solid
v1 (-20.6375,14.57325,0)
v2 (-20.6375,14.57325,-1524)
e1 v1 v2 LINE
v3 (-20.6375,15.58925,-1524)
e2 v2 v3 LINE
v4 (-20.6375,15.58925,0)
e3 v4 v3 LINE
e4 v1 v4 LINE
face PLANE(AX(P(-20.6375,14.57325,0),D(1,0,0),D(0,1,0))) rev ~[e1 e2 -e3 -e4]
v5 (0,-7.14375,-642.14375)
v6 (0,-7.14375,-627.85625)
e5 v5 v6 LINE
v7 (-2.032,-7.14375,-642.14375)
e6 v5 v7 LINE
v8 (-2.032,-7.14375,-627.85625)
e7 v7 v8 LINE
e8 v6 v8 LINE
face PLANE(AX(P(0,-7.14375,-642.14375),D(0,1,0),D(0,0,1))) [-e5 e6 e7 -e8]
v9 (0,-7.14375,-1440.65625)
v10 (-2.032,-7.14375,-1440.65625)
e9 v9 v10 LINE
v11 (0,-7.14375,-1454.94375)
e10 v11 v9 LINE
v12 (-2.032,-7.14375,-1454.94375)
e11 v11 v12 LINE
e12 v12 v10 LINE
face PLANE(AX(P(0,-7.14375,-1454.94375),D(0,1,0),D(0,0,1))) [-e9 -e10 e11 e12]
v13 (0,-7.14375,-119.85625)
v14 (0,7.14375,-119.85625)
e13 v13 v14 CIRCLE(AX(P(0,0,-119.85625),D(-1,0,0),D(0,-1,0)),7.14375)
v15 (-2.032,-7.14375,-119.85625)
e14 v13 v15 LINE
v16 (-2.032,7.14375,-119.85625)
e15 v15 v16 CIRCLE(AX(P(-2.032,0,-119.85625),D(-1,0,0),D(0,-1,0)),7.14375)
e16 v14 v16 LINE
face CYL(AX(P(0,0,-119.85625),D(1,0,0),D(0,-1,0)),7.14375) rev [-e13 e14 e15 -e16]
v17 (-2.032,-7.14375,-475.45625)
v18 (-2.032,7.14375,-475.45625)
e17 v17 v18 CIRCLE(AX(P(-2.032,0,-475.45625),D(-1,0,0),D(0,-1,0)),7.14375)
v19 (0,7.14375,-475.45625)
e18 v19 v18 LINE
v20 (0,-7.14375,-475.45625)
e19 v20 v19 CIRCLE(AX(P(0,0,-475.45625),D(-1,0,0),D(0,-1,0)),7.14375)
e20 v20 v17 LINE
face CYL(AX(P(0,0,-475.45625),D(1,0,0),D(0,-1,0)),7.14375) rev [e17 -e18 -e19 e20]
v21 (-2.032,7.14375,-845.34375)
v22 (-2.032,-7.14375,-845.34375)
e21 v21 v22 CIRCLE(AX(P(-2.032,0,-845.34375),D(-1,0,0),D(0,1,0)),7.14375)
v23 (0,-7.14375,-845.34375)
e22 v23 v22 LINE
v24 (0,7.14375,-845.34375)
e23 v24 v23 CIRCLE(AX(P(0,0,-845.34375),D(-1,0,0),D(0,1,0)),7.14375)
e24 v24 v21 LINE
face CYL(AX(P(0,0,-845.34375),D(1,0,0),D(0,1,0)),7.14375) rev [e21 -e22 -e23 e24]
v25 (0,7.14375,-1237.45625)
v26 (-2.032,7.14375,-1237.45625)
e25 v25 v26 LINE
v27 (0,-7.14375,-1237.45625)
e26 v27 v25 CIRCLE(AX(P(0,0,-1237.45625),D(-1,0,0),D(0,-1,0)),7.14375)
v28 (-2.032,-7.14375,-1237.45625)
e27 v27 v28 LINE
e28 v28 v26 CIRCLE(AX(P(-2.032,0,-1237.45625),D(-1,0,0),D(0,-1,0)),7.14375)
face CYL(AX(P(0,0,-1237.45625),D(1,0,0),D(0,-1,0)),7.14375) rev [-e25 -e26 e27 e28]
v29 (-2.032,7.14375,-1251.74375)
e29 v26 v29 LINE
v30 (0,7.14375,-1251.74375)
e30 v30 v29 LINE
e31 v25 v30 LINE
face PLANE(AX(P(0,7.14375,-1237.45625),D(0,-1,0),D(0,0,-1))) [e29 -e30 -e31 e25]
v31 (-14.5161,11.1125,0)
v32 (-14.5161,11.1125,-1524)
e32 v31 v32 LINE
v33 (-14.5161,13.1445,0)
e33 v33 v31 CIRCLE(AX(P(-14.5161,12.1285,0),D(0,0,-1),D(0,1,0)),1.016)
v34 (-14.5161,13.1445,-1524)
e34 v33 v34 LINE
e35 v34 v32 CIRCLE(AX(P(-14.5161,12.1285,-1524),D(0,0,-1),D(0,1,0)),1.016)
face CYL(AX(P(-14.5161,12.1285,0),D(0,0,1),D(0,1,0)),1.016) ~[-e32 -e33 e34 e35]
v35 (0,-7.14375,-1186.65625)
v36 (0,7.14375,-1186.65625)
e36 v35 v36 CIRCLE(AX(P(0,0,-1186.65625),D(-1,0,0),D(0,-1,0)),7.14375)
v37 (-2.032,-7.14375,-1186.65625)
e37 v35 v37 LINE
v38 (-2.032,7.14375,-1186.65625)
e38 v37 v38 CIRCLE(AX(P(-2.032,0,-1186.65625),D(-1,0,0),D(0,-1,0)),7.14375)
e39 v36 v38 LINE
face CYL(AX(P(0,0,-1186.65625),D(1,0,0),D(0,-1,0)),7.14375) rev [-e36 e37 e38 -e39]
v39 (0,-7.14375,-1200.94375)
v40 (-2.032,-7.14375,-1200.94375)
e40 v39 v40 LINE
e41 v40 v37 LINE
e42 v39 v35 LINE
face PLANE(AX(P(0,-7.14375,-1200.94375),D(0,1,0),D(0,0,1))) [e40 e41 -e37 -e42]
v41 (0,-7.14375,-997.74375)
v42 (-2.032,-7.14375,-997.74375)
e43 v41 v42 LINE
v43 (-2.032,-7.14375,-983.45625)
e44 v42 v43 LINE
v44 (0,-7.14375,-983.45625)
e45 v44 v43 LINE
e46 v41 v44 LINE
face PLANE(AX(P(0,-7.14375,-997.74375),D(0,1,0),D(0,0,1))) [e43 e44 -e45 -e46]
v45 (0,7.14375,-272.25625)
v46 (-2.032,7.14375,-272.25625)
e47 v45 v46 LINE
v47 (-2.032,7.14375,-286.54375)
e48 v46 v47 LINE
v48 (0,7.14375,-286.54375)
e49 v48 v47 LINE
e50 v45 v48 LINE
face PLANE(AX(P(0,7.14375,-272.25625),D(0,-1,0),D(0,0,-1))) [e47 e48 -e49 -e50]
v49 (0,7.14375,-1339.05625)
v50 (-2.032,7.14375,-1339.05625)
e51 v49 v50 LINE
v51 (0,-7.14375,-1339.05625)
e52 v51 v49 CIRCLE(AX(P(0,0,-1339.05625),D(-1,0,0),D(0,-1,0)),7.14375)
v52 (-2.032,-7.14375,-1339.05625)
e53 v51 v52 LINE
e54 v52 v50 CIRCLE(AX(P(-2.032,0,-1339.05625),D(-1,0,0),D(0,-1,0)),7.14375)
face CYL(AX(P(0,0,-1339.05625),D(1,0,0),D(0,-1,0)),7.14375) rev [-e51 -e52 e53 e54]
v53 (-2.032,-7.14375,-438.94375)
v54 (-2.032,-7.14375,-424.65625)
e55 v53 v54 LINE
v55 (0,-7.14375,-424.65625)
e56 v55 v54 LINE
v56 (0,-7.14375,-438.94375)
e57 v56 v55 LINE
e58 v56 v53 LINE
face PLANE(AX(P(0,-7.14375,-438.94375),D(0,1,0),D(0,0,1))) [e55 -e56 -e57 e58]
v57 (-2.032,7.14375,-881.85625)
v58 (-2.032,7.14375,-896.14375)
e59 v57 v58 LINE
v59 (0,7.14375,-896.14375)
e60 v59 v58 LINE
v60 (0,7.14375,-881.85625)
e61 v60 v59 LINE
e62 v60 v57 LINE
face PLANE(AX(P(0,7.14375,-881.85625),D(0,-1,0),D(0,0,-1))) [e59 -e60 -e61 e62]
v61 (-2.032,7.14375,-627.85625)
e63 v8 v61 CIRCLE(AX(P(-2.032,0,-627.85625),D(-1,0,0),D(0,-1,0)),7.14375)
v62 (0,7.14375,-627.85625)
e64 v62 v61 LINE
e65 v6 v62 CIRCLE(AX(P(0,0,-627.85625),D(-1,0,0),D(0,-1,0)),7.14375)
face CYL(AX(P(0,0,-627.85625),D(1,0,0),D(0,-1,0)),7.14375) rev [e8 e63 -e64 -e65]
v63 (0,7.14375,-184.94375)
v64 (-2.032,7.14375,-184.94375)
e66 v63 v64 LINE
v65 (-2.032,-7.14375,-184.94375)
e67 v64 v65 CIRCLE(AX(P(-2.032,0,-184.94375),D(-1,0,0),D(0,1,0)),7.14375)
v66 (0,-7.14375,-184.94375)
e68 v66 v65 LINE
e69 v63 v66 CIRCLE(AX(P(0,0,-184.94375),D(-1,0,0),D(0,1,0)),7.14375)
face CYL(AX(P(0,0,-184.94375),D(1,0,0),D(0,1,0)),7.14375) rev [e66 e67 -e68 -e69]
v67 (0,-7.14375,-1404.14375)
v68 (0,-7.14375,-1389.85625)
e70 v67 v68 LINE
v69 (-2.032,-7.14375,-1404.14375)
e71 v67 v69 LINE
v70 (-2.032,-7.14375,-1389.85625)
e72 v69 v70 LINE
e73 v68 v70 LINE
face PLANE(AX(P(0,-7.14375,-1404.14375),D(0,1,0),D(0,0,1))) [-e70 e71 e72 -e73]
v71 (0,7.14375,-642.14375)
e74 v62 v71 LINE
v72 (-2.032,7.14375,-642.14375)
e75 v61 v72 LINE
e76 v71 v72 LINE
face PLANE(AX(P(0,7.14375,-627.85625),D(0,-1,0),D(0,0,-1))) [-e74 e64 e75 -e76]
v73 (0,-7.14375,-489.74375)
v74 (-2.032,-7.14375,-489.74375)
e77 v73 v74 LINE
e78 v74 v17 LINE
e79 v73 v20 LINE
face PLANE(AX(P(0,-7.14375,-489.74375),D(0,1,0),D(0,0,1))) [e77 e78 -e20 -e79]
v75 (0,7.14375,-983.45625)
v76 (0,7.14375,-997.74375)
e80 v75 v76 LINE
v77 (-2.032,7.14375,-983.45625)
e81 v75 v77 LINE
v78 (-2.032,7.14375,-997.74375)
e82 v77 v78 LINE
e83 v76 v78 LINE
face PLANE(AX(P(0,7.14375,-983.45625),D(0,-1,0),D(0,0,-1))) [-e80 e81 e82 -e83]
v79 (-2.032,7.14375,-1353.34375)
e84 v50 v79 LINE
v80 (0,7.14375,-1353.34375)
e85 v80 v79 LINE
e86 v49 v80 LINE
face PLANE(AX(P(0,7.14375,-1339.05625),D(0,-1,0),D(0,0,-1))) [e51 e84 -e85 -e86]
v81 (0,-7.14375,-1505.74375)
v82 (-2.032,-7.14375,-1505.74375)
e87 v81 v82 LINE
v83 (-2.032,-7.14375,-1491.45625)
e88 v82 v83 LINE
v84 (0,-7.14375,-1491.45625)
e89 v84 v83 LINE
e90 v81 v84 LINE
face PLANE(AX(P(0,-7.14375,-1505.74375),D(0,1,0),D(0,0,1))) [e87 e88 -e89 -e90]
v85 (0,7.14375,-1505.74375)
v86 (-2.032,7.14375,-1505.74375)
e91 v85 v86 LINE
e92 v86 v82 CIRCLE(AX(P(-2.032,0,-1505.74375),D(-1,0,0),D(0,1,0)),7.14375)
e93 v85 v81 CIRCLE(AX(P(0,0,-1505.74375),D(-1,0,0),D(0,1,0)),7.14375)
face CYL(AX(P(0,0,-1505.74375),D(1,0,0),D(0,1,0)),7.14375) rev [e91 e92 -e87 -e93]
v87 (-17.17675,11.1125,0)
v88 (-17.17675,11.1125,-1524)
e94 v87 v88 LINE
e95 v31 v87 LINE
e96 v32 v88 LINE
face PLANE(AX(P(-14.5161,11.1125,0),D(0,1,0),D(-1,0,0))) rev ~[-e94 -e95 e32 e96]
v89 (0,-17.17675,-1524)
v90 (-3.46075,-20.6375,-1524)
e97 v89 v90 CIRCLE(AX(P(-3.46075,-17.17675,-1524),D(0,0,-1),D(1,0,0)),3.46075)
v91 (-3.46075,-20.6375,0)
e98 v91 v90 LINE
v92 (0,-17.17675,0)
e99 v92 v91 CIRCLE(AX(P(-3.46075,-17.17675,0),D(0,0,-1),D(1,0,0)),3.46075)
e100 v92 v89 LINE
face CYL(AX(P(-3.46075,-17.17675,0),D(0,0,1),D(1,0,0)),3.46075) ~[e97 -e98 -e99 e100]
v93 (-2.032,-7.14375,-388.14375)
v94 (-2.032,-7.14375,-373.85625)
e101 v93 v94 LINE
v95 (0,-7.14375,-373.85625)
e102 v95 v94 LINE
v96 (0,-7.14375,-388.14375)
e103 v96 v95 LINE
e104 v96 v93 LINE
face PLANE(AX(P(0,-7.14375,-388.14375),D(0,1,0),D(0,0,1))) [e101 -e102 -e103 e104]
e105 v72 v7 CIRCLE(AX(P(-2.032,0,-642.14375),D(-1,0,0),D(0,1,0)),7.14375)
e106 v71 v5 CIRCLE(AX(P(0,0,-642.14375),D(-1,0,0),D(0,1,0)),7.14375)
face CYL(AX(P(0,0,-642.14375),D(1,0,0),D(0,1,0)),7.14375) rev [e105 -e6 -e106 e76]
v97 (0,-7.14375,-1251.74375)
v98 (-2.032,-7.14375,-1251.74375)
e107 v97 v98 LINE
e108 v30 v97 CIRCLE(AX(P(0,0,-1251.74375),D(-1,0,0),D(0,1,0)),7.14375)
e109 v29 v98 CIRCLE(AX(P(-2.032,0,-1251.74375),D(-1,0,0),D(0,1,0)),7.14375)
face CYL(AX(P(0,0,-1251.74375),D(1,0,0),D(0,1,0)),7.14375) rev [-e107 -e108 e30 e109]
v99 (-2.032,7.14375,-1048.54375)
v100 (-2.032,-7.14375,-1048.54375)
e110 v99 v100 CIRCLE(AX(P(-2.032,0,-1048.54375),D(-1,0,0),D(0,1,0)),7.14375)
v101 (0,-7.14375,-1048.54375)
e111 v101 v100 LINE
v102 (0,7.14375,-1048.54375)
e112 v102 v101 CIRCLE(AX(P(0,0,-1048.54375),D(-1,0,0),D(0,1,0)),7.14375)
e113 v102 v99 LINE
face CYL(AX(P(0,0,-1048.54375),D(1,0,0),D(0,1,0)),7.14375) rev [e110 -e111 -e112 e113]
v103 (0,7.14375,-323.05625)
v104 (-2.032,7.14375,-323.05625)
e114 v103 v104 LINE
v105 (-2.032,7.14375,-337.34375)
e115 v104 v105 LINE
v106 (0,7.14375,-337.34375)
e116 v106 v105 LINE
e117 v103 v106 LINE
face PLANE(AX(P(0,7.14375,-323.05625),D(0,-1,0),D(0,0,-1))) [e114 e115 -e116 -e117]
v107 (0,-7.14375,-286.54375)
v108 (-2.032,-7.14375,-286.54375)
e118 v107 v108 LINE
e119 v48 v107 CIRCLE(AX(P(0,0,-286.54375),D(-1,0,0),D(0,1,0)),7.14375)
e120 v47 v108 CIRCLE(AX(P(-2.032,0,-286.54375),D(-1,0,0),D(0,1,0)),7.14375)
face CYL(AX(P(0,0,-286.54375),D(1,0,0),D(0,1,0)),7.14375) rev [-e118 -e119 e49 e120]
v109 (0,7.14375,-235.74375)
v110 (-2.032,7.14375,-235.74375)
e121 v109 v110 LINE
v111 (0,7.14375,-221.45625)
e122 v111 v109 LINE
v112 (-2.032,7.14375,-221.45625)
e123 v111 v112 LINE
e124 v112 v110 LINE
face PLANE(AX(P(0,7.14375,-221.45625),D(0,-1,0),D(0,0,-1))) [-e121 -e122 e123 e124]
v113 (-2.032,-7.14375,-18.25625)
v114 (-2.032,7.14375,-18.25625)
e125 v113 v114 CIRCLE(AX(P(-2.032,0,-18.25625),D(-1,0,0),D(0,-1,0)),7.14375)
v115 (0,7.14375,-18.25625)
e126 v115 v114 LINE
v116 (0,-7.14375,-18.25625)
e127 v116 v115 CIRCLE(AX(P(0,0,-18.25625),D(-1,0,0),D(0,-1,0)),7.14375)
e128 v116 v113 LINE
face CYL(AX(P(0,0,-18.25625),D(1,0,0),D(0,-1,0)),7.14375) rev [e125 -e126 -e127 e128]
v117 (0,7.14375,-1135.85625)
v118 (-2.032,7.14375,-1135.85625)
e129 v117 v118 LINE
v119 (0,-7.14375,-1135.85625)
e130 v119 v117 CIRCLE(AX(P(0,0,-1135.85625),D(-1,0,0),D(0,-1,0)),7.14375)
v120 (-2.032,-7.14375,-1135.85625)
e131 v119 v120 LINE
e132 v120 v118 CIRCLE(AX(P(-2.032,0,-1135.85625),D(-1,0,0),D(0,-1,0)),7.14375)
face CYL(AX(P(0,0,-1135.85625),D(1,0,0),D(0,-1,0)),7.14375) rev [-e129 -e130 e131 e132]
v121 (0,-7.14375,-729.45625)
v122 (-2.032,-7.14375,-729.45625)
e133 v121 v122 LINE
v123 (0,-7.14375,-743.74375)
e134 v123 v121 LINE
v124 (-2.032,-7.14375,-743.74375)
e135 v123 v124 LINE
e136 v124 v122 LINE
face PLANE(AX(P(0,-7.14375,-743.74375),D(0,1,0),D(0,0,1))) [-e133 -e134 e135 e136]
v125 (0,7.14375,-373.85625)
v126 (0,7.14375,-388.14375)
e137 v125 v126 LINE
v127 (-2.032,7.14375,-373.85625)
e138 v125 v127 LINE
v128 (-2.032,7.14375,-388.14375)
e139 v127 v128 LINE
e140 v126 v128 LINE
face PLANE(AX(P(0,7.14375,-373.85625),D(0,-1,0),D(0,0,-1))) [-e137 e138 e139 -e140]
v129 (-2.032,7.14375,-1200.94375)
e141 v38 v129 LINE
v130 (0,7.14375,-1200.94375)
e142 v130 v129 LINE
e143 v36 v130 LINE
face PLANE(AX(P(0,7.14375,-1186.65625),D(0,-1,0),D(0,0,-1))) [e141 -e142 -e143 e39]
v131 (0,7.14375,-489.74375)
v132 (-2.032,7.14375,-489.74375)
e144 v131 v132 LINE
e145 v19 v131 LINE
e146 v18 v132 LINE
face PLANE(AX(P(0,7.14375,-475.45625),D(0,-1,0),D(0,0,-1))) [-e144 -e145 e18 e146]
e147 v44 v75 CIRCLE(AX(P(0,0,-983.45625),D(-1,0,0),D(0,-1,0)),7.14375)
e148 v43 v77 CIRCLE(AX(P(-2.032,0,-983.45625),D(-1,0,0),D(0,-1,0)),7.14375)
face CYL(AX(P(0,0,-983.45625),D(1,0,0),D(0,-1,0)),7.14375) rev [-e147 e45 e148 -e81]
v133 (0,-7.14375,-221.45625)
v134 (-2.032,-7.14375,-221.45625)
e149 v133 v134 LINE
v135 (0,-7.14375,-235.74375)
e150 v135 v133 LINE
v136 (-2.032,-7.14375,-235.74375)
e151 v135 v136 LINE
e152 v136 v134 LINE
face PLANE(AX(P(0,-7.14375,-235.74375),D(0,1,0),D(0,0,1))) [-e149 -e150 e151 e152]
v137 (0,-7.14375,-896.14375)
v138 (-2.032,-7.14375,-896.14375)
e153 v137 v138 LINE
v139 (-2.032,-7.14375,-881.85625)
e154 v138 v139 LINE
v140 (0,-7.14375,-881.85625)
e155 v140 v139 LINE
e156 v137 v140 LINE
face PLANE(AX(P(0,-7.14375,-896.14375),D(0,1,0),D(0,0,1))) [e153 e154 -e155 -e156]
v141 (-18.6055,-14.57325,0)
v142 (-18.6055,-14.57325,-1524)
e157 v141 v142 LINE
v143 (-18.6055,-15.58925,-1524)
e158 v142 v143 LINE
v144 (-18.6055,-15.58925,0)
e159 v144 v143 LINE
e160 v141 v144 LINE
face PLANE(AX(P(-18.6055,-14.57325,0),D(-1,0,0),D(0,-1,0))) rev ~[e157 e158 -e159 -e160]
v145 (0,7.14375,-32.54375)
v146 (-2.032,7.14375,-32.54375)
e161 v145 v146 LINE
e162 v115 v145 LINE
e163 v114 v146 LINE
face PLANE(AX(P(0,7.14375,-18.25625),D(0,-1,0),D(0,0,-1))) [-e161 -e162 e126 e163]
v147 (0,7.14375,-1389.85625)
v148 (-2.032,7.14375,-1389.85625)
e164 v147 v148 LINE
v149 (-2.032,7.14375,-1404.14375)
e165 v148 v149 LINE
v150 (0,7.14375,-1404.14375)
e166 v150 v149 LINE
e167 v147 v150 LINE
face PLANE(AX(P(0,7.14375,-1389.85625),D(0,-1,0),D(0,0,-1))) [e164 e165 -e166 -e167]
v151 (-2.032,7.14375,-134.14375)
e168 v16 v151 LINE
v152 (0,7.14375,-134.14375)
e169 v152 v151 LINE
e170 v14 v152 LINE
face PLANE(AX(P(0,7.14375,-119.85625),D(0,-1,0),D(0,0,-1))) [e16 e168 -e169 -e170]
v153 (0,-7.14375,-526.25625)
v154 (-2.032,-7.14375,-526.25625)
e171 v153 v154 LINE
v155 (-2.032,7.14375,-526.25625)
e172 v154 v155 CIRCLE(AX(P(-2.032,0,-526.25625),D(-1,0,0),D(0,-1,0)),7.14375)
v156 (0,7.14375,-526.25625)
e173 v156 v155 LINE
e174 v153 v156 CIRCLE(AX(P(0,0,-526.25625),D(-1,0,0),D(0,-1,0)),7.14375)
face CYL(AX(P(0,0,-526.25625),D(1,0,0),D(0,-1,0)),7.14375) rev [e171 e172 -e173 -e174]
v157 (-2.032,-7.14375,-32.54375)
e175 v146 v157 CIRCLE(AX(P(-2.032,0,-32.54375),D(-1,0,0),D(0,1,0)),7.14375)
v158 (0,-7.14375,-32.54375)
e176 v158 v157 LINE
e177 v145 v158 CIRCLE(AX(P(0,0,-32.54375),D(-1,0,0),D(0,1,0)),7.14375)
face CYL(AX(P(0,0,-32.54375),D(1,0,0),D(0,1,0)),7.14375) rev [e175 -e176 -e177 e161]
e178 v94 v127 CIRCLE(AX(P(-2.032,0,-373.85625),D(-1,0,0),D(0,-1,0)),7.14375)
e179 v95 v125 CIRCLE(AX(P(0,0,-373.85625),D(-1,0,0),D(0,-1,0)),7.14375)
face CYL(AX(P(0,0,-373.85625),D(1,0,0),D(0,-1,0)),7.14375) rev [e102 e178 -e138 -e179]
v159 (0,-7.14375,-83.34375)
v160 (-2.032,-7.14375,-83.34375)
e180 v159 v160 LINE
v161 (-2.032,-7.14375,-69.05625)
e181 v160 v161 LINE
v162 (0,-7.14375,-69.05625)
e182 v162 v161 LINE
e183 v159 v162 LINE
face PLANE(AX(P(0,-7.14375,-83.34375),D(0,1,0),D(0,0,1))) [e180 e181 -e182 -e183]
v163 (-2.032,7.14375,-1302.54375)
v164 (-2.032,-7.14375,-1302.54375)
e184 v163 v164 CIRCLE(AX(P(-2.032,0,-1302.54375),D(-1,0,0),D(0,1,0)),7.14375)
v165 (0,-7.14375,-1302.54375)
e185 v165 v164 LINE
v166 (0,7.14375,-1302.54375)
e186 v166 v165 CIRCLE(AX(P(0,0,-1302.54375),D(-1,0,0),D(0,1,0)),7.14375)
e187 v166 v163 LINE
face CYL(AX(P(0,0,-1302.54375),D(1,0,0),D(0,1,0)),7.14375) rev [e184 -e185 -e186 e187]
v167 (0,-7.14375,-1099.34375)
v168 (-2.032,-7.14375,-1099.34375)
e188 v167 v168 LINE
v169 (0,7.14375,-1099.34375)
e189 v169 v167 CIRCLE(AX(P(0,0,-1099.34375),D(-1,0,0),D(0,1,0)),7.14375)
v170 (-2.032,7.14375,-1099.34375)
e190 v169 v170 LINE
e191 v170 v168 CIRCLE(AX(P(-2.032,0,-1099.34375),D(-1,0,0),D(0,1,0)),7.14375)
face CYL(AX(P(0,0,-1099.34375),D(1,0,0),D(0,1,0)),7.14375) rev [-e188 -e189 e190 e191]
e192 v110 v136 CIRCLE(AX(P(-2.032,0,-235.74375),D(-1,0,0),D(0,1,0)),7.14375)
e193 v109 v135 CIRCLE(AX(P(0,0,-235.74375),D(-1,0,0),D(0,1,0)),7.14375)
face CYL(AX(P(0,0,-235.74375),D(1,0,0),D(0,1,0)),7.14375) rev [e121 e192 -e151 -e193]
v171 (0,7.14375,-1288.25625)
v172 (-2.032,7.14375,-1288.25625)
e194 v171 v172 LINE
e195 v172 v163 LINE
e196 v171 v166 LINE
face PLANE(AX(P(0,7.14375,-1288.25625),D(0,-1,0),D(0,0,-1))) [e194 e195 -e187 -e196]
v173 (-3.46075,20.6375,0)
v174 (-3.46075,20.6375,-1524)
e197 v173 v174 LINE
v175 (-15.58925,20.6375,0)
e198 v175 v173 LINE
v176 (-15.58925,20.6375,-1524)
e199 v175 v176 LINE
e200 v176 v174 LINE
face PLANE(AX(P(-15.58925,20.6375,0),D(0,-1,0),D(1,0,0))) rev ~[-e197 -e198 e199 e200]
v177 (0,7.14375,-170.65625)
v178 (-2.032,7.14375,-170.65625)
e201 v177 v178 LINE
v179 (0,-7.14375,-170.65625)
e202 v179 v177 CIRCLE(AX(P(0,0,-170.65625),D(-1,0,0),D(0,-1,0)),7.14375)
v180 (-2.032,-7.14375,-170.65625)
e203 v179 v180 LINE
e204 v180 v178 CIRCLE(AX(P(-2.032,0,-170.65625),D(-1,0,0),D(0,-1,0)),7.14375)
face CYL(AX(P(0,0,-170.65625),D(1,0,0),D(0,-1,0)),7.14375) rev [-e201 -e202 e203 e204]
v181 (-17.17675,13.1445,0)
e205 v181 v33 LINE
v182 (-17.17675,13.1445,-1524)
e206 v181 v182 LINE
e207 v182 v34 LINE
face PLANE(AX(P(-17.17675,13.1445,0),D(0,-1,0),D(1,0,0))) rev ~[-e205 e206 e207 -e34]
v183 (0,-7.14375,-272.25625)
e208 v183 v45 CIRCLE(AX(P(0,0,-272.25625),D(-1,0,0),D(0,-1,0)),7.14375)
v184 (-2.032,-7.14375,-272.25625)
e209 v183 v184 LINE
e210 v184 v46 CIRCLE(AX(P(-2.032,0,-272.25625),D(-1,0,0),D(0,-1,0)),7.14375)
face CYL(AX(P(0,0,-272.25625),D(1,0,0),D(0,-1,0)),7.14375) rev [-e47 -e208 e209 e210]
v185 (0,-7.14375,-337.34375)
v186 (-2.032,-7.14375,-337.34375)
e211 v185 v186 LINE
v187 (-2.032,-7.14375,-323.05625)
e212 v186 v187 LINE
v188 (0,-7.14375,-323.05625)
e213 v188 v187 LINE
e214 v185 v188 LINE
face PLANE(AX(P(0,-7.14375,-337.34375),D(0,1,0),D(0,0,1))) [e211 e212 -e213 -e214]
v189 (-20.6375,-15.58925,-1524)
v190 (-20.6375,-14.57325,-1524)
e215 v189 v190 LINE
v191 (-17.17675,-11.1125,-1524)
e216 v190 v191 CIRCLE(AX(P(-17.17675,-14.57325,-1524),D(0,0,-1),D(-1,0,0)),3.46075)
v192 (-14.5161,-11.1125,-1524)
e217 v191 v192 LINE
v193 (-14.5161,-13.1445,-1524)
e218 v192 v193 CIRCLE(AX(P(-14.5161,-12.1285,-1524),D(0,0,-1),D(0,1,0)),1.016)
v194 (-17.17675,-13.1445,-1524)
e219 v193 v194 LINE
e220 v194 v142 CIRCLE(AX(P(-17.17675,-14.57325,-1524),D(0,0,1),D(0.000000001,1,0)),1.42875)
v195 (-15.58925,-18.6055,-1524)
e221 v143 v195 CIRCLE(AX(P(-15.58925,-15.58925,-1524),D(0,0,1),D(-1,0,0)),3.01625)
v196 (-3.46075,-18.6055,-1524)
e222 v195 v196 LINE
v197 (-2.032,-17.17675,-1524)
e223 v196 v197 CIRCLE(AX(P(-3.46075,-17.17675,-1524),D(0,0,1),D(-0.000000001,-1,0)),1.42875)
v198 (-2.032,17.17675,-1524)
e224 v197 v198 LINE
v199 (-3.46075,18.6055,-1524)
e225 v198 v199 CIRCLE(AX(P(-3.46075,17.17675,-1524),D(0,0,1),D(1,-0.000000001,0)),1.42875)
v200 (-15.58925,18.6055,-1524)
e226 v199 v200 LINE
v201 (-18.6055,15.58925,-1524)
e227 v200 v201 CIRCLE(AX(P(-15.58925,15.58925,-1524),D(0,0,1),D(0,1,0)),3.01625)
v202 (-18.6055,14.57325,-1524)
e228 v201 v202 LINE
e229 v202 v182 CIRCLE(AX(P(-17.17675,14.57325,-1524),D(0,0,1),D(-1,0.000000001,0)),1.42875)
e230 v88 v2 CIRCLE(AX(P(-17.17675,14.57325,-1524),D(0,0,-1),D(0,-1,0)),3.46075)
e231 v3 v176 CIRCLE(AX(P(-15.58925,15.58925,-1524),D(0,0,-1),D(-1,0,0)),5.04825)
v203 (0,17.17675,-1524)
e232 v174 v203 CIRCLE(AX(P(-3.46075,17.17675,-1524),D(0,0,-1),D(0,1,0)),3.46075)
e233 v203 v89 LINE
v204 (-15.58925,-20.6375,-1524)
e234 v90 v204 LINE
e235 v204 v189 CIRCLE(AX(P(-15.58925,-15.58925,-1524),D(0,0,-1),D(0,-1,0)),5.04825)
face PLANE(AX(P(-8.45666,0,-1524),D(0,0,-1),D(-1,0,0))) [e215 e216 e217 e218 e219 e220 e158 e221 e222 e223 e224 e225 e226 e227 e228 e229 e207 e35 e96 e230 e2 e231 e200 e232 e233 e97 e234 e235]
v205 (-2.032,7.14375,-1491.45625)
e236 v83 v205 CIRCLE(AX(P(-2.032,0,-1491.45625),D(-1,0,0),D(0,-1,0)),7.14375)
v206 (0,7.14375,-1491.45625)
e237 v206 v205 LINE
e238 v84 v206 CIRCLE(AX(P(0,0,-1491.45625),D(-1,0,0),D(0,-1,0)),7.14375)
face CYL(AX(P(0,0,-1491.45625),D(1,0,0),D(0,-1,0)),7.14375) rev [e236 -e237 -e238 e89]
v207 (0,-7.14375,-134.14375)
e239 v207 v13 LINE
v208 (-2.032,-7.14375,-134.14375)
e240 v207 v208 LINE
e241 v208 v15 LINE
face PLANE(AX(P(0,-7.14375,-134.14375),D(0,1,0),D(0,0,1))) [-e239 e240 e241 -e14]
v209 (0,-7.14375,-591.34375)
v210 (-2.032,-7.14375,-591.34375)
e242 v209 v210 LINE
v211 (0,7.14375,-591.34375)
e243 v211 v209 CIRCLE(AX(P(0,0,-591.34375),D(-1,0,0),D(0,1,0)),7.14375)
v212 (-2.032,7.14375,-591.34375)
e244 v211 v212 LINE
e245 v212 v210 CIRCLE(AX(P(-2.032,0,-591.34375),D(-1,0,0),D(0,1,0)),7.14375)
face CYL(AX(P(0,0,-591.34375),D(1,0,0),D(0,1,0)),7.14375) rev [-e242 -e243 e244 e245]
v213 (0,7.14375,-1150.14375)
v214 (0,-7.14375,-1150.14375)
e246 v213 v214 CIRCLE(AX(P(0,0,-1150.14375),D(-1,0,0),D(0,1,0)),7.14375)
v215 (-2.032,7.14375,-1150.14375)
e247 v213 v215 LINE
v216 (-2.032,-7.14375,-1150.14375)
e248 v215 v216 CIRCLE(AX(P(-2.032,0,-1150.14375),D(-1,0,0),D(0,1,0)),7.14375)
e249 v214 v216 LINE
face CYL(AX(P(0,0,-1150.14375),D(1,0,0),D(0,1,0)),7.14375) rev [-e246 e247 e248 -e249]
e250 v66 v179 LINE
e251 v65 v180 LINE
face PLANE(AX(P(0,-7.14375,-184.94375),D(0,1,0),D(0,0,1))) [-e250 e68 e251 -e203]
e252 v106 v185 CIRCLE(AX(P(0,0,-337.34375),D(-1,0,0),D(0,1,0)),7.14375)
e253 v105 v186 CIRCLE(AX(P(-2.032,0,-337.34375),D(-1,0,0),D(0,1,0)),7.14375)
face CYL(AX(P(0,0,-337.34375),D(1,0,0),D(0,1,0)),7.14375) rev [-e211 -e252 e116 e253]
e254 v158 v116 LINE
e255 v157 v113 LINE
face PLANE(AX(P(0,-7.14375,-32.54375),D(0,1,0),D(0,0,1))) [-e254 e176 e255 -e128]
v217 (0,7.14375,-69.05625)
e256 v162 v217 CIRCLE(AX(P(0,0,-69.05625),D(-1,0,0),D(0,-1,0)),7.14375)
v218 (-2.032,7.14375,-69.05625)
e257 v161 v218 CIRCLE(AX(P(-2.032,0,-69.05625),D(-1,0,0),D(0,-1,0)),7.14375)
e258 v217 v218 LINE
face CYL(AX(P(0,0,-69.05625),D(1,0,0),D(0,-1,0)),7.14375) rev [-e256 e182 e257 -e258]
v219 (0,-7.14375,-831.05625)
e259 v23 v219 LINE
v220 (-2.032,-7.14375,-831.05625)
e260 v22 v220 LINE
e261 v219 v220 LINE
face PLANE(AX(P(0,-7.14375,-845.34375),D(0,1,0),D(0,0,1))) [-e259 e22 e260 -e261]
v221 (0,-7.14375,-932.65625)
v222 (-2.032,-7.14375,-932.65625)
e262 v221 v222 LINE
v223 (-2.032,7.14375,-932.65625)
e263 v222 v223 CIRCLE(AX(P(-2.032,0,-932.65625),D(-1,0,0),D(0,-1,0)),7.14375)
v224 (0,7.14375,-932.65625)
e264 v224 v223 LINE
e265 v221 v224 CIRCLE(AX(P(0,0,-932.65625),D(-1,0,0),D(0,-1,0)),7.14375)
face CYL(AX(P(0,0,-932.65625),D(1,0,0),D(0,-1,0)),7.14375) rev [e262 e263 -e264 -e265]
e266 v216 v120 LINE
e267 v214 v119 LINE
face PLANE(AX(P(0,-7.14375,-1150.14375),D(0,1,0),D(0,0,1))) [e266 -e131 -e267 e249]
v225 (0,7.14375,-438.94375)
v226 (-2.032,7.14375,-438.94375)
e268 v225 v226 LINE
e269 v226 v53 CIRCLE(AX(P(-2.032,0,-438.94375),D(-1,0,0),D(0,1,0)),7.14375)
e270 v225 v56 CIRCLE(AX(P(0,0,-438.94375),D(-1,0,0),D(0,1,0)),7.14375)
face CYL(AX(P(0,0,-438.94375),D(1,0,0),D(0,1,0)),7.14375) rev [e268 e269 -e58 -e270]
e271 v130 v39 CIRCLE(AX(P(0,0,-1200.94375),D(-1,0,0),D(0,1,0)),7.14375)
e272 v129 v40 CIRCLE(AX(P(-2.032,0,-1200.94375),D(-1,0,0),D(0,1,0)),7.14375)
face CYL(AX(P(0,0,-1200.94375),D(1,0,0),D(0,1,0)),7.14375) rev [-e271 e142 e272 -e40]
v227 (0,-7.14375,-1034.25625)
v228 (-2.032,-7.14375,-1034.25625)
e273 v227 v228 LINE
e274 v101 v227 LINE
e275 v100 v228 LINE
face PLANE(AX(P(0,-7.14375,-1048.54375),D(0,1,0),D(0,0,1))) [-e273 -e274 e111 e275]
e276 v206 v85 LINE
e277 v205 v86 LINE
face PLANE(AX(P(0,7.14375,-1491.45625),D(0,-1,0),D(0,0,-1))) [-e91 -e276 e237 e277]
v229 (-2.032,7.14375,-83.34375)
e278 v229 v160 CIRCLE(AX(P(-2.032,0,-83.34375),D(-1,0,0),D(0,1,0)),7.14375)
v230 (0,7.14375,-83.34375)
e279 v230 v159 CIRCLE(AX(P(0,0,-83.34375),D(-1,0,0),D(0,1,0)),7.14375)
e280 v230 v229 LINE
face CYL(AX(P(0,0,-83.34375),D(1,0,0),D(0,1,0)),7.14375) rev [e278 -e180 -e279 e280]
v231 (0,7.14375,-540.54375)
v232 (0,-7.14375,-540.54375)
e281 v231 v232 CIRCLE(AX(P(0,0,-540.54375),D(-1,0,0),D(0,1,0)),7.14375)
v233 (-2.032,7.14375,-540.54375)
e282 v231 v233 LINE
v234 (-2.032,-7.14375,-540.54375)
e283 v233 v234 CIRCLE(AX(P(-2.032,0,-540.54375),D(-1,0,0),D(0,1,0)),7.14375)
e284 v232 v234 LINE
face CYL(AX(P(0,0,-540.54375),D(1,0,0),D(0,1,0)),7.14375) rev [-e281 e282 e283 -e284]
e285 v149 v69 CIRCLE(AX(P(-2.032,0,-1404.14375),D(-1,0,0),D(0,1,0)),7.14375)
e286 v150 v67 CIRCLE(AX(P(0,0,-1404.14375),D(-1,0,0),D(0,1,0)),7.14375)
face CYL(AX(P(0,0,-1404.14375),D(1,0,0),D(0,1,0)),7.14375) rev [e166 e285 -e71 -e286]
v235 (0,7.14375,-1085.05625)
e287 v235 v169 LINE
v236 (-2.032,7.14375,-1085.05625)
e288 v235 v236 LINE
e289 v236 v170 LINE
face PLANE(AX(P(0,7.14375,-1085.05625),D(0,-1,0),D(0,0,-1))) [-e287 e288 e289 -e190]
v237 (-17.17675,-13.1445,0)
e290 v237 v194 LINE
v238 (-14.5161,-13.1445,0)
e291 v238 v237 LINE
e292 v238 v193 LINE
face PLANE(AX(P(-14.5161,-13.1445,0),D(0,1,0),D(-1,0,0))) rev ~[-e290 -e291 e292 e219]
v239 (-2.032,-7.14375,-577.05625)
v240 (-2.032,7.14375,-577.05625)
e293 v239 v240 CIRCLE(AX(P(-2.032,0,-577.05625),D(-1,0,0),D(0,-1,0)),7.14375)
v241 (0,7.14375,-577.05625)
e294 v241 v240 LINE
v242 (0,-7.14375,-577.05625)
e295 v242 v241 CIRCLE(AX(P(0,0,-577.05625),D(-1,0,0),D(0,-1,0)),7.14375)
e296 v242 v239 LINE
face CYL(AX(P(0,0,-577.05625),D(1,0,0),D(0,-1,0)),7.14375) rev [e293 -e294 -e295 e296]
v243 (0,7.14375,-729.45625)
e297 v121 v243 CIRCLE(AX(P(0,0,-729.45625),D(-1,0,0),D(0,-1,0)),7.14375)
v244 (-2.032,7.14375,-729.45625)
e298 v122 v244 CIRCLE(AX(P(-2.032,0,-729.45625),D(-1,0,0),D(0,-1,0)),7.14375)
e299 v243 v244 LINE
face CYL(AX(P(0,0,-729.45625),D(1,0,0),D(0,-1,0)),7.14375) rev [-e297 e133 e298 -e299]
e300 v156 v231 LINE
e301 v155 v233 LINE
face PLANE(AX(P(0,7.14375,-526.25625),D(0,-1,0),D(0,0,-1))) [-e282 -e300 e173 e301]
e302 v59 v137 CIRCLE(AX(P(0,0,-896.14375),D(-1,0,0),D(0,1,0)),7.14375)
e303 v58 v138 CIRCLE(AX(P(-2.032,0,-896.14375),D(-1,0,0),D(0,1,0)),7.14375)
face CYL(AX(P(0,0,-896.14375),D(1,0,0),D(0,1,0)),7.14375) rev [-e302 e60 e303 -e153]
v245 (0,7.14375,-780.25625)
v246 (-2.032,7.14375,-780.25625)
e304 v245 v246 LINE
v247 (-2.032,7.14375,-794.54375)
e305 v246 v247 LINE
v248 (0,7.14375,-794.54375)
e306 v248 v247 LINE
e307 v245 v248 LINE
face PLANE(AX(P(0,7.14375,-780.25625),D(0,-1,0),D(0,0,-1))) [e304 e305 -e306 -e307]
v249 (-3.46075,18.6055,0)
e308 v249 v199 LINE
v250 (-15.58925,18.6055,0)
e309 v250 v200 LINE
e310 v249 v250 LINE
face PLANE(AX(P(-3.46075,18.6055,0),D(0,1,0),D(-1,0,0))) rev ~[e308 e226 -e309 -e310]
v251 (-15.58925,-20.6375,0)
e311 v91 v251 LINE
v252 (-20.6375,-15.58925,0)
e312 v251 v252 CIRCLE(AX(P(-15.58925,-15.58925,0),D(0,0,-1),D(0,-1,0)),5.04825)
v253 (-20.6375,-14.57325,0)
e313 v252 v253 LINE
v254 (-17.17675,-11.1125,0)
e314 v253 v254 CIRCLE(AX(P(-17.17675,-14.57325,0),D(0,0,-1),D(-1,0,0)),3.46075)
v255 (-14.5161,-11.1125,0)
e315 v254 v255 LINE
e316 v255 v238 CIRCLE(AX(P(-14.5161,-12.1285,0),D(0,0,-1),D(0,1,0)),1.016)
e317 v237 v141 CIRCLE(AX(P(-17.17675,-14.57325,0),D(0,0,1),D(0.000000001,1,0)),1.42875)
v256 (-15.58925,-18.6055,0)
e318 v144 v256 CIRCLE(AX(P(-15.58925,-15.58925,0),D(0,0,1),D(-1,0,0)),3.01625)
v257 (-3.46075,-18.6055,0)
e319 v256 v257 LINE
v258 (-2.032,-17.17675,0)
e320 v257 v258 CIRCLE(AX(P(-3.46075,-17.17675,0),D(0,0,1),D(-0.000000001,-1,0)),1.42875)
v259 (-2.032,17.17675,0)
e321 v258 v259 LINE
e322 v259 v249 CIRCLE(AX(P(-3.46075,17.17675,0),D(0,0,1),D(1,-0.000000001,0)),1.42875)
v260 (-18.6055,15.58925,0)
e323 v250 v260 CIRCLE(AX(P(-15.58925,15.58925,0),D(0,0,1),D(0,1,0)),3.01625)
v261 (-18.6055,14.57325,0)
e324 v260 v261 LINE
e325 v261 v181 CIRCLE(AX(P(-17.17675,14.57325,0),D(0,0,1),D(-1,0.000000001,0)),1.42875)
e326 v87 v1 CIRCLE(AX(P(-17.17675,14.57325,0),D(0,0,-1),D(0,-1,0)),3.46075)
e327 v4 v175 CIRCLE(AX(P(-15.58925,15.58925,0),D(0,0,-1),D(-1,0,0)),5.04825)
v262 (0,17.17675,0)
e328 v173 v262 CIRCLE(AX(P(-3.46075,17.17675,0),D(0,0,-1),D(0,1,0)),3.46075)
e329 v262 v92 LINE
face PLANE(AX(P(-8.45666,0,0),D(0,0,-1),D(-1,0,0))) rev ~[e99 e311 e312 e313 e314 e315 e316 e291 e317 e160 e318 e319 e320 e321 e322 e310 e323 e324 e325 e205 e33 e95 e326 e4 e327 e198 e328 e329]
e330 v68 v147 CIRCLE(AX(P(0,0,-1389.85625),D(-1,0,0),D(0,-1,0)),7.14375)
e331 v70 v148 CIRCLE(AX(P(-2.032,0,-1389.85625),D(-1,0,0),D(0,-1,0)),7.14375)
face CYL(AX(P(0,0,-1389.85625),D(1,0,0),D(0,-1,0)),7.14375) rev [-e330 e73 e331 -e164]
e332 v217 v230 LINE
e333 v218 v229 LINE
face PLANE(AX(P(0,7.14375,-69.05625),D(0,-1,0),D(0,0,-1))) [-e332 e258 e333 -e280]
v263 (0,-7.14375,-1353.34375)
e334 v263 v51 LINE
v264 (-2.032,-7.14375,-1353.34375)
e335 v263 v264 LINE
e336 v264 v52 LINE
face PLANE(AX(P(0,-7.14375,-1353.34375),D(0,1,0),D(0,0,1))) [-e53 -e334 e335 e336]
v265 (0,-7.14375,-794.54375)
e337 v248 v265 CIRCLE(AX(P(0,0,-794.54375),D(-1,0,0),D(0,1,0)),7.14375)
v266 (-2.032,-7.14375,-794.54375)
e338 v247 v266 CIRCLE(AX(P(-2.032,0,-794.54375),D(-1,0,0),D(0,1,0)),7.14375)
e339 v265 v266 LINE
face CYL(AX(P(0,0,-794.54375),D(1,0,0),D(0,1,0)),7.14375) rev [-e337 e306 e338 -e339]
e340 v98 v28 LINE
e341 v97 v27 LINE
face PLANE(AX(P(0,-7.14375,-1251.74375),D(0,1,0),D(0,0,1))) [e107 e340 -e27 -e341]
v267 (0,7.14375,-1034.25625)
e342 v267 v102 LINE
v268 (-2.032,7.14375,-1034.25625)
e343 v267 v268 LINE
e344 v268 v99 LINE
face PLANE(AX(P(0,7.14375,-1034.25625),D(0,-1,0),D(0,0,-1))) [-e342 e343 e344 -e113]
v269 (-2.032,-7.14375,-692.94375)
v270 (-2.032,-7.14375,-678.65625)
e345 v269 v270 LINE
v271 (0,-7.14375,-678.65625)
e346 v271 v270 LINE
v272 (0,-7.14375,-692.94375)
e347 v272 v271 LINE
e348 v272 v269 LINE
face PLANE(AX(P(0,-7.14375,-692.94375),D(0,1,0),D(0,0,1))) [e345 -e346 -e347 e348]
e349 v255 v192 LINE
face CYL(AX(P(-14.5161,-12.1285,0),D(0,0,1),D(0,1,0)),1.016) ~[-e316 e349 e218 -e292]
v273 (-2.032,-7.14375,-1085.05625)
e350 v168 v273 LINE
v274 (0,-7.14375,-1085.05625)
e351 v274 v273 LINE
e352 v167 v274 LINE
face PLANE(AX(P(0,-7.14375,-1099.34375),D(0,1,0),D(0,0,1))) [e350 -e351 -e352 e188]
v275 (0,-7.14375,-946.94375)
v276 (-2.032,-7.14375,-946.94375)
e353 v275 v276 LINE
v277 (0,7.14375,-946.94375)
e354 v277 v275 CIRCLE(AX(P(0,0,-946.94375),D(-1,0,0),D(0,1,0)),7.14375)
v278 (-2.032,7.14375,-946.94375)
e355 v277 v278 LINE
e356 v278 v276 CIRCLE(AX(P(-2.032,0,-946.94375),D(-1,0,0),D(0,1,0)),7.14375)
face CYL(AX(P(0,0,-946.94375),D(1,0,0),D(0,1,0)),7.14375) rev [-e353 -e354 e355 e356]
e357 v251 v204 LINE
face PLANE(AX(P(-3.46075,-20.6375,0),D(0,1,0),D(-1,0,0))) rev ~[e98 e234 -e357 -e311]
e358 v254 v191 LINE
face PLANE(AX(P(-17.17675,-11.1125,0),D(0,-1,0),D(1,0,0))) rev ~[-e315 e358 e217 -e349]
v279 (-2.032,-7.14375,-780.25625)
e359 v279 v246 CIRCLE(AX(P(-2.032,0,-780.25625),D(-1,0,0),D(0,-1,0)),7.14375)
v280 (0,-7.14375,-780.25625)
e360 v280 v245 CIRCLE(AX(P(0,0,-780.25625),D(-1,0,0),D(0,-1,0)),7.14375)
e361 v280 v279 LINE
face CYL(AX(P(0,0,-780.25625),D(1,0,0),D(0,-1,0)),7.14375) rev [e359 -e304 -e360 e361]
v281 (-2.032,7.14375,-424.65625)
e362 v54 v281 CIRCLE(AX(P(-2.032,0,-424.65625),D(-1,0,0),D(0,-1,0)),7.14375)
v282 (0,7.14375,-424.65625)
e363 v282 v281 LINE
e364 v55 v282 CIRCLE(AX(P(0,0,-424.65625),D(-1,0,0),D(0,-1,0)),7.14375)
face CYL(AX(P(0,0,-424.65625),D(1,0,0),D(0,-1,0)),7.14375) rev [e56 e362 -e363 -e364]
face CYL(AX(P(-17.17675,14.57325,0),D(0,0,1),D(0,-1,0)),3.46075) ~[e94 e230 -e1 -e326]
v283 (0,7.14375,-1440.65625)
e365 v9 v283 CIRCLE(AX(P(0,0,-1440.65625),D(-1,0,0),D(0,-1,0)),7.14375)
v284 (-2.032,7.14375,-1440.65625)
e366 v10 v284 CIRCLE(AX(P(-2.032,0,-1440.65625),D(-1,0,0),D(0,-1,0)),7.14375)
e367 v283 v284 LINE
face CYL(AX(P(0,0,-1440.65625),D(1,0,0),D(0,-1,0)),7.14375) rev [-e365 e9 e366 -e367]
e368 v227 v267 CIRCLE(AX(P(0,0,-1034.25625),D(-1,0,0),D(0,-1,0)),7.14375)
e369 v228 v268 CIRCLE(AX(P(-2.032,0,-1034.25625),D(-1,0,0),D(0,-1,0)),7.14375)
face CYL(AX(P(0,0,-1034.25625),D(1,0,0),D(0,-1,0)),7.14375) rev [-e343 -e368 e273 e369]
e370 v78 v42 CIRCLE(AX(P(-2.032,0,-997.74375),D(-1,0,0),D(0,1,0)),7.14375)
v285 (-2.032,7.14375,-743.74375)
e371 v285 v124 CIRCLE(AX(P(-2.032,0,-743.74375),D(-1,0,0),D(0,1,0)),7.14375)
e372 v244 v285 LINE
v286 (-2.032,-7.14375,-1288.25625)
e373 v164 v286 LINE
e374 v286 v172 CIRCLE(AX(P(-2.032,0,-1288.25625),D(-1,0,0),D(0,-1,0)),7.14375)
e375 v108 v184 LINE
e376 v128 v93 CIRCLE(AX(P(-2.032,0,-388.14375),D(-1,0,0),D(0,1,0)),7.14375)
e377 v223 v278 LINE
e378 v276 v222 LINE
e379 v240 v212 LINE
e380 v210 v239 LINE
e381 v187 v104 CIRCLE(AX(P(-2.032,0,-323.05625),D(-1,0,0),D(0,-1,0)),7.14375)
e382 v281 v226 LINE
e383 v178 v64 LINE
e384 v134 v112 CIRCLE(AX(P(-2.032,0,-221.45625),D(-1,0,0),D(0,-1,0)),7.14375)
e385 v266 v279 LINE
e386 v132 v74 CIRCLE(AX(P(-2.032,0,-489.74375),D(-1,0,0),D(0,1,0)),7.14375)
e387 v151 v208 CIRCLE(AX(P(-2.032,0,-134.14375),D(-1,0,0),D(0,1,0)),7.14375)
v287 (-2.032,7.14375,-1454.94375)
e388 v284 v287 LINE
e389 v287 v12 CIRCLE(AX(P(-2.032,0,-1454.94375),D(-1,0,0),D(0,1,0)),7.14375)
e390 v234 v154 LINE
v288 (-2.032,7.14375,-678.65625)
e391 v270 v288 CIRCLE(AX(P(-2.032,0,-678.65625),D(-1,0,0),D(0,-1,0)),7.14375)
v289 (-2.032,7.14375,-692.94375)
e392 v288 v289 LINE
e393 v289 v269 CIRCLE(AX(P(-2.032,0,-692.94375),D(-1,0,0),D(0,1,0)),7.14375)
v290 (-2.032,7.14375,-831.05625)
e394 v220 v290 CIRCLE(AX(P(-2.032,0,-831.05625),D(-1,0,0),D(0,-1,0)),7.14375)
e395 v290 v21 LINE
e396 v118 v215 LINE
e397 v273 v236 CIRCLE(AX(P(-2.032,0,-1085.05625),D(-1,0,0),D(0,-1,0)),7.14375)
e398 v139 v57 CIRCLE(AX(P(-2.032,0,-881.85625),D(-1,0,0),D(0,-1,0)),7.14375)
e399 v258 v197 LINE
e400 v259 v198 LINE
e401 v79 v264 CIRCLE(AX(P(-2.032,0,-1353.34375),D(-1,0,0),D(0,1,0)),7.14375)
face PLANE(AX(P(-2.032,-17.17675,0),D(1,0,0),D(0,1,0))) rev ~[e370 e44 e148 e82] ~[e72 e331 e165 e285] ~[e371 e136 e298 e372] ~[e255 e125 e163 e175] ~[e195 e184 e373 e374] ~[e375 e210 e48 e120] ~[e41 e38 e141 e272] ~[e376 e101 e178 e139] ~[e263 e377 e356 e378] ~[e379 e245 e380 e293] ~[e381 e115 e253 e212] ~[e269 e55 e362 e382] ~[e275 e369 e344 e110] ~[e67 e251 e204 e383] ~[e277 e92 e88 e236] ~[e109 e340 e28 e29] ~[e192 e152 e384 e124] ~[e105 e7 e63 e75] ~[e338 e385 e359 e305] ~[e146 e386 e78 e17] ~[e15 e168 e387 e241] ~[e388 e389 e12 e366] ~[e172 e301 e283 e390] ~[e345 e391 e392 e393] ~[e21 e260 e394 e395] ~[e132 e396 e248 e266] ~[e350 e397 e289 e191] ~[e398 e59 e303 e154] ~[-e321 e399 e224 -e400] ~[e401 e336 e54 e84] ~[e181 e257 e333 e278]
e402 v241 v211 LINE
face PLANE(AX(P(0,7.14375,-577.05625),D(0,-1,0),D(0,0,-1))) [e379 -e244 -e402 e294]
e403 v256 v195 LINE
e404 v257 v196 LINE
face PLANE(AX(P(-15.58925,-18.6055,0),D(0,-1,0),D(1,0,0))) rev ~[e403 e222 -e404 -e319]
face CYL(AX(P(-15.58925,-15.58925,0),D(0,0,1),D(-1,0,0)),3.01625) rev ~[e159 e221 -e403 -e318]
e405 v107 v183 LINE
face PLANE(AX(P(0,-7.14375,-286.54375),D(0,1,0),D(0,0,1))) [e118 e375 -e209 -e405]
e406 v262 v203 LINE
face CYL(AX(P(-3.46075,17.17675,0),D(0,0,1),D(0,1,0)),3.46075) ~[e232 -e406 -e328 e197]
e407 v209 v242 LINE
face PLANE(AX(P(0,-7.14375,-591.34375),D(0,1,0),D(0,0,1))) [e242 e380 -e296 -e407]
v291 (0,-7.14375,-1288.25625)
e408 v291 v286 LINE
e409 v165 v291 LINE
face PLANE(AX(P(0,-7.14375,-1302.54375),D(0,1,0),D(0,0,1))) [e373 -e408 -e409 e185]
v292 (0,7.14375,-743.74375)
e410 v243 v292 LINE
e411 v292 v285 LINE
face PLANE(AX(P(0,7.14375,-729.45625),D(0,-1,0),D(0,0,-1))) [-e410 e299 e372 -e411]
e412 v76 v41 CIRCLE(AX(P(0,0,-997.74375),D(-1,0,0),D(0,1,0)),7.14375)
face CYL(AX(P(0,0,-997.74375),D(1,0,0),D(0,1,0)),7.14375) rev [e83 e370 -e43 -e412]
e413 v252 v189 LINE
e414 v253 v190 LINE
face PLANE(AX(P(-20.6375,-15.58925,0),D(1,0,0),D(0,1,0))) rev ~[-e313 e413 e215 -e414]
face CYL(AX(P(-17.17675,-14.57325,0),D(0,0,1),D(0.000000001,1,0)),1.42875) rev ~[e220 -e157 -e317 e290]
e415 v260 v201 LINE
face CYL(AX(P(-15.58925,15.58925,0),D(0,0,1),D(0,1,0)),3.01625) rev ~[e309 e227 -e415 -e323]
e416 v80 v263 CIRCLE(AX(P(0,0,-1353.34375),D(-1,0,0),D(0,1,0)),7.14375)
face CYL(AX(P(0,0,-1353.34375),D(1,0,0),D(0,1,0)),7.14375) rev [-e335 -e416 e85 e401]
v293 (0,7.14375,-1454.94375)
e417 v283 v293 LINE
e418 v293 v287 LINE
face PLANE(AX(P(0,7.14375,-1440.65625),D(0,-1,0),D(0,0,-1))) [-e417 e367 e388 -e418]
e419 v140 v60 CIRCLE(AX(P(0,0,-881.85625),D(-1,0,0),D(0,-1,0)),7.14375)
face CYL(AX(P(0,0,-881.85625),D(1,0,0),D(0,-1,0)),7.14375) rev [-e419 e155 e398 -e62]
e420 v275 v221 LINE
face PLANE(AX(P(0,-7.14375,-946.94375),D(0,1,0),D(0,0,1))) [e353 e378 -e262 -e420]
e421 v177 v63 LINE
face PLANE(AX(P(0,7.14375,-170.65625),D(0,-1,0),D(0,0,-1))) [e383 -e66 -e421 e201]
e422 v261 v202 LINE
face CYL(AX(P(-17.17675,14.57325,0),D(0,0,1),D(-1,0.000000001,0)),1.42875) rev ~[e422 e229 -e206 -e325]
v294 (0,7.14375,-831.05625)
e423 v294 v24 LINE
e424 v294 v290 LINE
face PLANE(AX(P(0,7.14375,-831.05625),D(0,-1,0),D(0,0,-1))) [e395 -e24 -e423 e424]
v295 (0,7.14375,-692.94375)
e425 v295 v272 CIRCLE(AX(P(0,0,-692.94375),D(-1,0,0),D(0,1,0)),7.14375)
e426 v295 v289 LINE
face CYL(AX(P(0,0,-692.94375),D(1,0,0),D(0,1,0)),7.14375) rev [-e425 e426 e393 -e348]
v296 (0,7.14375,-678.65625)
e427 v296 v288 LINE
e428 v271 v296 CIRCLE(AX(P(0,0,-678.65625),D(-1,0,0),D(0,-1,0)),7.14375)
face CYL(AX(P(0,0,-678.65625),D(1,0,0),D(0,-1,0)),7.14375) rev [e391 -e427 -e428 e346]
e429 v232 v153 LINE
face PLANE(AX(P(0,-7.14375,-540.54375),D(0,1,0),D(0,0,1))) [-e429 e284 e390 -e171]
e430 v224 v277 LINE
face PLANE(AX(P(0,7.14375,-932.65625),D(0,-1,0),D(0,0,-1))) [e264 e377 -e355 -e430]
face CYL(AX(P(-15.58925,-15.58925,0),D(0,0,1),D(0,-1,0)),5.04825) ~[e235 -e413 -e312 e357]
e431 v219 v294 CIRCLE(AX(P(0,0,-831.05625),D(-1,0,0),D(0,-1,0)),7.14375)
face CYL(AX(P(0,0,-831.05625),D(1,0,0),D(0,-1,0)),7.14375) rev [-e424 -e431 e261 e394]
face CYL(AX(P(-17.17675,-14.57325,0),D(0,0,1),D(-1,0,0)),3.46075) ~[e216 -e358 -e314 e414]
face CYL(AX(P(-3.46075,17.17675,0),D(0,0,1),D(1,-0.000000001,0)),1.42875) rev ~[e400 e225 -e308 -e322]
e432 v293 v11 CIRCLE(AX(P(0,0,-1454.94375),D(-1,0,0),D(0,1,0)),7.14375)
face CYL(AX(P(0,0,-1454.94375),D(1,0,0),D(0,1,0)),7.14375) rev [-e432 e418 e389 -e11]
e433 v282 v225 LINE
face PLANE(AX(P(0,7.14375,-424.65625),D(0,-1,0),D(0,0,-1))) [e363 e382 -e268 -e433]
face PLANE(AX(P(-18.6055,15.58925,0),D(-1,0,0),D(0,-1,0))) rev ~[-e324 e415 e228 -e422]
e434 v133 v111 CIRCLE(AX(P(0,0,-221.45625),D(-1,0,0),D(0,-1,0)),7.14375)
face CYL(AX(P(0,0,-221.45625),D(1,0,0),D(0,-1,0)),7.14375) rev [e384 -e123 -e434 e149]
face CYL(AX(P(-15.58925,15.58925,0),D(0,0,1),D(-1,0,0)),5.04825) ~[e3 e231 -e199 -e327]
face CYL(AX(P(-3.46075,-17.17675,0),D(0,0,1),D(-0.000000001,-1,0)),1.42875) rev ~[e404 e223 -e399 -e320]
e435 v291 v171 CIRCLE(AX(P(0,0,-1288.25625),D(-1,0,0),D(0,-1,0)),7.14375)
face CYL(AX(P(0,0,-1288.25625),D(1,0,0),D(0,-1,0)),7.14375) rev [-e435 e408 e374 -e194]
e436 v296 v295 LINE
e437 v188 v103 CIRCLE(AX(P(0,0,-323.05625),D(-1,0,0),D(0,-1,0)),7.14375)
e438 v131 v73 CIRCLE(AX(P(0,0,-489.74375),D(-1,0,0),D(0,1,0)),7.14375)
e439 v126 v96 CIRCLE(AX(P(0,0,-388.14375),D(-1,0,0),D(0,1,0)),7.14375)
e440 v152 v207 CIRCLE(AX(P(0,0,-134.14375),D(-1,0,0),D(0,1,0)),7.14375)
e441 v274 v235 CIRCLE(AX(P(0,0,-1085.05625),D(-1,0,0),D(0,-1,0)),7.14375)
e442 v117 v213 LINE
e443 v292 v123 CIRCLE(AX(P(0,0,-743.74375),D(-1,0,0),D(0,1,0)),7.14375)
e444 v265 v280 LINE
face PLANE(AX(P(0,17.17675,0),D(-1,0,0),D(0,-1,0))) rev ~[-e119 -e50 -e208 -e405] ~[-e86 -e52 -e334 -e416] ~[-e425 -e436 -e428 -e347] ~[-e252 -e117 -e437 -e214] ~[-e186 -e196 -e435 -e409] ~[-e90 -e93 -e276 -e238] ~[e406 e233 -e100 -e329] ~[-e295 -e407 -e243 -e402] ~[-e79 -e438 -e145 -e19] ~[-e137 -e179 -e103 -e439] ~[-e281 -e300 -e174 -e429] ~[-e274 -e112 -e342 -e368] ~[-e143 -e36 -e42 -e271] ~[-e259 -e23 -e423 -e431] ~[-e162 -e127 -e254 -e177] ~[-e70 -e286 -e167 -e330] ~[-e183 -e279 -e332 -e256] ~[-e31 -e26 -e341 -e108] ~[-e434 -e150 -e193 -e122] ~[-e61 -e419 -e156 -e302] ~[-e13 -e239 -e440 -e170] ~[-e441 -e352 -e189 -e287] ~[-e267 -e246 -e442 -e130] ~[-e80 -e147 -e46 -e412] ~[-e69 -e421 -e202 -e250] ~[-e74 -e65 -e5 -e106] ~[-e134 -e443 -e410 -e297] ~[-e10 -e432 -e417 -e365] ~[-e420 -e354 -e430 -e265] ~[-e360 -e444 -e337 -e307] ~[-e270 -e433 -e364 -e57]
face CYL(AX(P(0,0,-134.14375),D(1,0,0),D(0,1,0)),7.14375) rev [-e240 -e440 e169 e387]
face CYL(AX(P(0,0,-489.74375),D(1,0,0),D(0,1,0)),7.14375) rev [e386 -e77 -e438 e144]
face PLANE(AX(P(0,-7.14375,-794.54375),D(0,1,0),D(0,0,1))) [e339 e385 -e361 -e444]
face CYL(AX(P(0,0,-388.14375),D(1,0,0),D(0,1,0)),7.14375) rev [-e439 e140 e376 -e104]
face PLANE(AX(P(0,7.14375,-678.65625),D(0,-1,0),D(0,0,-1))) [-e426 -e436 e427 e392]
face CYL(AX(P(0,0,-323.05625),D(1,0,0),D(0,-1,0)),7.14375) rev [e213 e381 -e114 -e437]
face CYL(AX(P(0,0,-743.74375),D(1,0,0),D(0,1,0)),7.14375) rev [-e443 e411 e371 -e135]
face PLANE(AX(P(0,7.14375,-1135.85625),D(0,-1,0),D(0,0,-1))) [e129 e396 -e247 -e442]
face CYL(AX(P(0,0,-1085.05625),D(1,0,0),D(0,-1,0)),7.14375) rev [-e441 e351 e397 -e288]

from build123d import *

# Parameters (mm, degrees)
BOSS_EXTRUDE1_DEPTH = 1524
CUT_EXTRUDE1_DEPTH  = 2.032
LPATTERN1_COUNT     = 30
LPATTERN1_PITCH     = 50.8


with BuildPart() as part:
    # Sketch1 → Boss-Extrude1 (new body)
    with BuildSketch(Plane.XY):
        with BuildLine():
            Line((-15.58925, 20.6375), (-3.46075, 20.6375))
            ThreePointArc((-3.46075, 20.6375), (-1.013630207, 19.623869793), (0, 17.17675))
            Line((0, 17.17675), (0, -17.17675))
            ThreePointArc((0, -17.17675), (-1.013630207, -19.623869793), (-3.46075, -20.6375))
            Line((-3.46075, -20.6375), (-15.58925, -20.6375))
            ThreePointArc((-15.58925, -20.6375), (-19.158901808, -19.158901808), (-20.6375, -15.58925))
            Line((-20.6375, -15.58925), (-20.6375, -14.57325))
            ThreePointArc((-20.6375, -14.57325), (-19.623869793, -12.126130207), (-17.17675, -11.1125))
            Line((-17.17675, -11.1125), (-14.5161, -11.1125))
            ThreePointArc((-14.5161, -11.1125), (-13.5001, -12.1285), (-14.5161, -13.1445))
            Line((-14.5161, -13.1445), (-17.17675, -13.1445))
            ThreePointArc((-17.17675, -13.1445), (-18.187028814, -13.562971186), (-18.6055, -14.57325))
            Line((-18.6055, -14.57325), (-18.6055, -15.58925))
            ThreePointArc((-18.6055, -15.58925), (-17.722060829, -17.722060829), (-15.58925, -18.6055))
            Line((-15.58925, -18.6055), (-3.46075, -18.6055))
            ThreePointArc((-3.46075, -18.6055), (-2.450471186, -18.187028814), (-2.032, -17.17675))
            Line((-2.032, -17.17675), (-2.032, 17.17675))
            ThreePointArc((-2.032, 17.17675), (-2.450471186, 18.187028814), (-3.46075, 18.6055))
            Line((-3.46075, 18.6055), (-15.58925, 18.6055))
            ThreePointArc((-15.58925, 18.6055), (-17.722060829, 17.722060829), (-18.6055, 15.58925))
            Line((-18.6055, 15.58925), (-18.6055, 14.57325))
            ThreePointArc((-18.6055, 14.57325), (-18.187028814, 13.562971186), (-17.17675, 13.1445))
            Line((-17.17675, 13.1445), (-14.5161, 13.1445))
            ThreePointArc((-14.5161, 13.1445), (-13.5001, 12.1285), (-14.5161, 11.1125))
            Line((-14.5161, 11.1125), (-17.17675, 11.1125))
            ThreePointArc((-17.17675, 11.1125), (-19.623869793, 12.126130207), (-20.6375, 14.57325))
            Line((-20.6375, 14.57325), (-20.6375, 15.58925))
            ThreePointArc((-20.6375, 15.58925), (-19.158901808, 19.158901808), (-15.58925, 20.6375))
        make_face()
    extrude(amount=-BOSS_EXTRUDE1_DEPTH)

    # Sketch2 → Cut-Extrude1 (cut)
    with BuildSketch(Plane(origin=(0, 0, 0), x_dir=(0, 0, -1), z_dir=(1, 0, 0))):
        with BuildLine():
            Line((18.25625, 7.14375), (32.54375, 7.14375))
            ThreePointArc((32.54375, 7.14375), (39.6875, 0), (32.54375, -7.14375))
            Line((32.54375, -7.14375), (18.25625, -7.14375))
            ThreePointArc((18.25625, -7.14375), (11.1125, 0), (18.25625, 7.14375))
        make_face()
    cut_extrude1 = extrude(amount=-CUT_EXTRUDE1_DEPTH, mode=Mode.SUBTRACT)

    # LPattern1: Cut-Extrude1 ×30
    with Locations(*[(0, 0, -i * LPATTERN1_PITCH) for i in range(1, LPATTERN1_COUNT)]):
        add(cut_extrude1, mode=Mode.SUBTRACT)


solid = part.part
